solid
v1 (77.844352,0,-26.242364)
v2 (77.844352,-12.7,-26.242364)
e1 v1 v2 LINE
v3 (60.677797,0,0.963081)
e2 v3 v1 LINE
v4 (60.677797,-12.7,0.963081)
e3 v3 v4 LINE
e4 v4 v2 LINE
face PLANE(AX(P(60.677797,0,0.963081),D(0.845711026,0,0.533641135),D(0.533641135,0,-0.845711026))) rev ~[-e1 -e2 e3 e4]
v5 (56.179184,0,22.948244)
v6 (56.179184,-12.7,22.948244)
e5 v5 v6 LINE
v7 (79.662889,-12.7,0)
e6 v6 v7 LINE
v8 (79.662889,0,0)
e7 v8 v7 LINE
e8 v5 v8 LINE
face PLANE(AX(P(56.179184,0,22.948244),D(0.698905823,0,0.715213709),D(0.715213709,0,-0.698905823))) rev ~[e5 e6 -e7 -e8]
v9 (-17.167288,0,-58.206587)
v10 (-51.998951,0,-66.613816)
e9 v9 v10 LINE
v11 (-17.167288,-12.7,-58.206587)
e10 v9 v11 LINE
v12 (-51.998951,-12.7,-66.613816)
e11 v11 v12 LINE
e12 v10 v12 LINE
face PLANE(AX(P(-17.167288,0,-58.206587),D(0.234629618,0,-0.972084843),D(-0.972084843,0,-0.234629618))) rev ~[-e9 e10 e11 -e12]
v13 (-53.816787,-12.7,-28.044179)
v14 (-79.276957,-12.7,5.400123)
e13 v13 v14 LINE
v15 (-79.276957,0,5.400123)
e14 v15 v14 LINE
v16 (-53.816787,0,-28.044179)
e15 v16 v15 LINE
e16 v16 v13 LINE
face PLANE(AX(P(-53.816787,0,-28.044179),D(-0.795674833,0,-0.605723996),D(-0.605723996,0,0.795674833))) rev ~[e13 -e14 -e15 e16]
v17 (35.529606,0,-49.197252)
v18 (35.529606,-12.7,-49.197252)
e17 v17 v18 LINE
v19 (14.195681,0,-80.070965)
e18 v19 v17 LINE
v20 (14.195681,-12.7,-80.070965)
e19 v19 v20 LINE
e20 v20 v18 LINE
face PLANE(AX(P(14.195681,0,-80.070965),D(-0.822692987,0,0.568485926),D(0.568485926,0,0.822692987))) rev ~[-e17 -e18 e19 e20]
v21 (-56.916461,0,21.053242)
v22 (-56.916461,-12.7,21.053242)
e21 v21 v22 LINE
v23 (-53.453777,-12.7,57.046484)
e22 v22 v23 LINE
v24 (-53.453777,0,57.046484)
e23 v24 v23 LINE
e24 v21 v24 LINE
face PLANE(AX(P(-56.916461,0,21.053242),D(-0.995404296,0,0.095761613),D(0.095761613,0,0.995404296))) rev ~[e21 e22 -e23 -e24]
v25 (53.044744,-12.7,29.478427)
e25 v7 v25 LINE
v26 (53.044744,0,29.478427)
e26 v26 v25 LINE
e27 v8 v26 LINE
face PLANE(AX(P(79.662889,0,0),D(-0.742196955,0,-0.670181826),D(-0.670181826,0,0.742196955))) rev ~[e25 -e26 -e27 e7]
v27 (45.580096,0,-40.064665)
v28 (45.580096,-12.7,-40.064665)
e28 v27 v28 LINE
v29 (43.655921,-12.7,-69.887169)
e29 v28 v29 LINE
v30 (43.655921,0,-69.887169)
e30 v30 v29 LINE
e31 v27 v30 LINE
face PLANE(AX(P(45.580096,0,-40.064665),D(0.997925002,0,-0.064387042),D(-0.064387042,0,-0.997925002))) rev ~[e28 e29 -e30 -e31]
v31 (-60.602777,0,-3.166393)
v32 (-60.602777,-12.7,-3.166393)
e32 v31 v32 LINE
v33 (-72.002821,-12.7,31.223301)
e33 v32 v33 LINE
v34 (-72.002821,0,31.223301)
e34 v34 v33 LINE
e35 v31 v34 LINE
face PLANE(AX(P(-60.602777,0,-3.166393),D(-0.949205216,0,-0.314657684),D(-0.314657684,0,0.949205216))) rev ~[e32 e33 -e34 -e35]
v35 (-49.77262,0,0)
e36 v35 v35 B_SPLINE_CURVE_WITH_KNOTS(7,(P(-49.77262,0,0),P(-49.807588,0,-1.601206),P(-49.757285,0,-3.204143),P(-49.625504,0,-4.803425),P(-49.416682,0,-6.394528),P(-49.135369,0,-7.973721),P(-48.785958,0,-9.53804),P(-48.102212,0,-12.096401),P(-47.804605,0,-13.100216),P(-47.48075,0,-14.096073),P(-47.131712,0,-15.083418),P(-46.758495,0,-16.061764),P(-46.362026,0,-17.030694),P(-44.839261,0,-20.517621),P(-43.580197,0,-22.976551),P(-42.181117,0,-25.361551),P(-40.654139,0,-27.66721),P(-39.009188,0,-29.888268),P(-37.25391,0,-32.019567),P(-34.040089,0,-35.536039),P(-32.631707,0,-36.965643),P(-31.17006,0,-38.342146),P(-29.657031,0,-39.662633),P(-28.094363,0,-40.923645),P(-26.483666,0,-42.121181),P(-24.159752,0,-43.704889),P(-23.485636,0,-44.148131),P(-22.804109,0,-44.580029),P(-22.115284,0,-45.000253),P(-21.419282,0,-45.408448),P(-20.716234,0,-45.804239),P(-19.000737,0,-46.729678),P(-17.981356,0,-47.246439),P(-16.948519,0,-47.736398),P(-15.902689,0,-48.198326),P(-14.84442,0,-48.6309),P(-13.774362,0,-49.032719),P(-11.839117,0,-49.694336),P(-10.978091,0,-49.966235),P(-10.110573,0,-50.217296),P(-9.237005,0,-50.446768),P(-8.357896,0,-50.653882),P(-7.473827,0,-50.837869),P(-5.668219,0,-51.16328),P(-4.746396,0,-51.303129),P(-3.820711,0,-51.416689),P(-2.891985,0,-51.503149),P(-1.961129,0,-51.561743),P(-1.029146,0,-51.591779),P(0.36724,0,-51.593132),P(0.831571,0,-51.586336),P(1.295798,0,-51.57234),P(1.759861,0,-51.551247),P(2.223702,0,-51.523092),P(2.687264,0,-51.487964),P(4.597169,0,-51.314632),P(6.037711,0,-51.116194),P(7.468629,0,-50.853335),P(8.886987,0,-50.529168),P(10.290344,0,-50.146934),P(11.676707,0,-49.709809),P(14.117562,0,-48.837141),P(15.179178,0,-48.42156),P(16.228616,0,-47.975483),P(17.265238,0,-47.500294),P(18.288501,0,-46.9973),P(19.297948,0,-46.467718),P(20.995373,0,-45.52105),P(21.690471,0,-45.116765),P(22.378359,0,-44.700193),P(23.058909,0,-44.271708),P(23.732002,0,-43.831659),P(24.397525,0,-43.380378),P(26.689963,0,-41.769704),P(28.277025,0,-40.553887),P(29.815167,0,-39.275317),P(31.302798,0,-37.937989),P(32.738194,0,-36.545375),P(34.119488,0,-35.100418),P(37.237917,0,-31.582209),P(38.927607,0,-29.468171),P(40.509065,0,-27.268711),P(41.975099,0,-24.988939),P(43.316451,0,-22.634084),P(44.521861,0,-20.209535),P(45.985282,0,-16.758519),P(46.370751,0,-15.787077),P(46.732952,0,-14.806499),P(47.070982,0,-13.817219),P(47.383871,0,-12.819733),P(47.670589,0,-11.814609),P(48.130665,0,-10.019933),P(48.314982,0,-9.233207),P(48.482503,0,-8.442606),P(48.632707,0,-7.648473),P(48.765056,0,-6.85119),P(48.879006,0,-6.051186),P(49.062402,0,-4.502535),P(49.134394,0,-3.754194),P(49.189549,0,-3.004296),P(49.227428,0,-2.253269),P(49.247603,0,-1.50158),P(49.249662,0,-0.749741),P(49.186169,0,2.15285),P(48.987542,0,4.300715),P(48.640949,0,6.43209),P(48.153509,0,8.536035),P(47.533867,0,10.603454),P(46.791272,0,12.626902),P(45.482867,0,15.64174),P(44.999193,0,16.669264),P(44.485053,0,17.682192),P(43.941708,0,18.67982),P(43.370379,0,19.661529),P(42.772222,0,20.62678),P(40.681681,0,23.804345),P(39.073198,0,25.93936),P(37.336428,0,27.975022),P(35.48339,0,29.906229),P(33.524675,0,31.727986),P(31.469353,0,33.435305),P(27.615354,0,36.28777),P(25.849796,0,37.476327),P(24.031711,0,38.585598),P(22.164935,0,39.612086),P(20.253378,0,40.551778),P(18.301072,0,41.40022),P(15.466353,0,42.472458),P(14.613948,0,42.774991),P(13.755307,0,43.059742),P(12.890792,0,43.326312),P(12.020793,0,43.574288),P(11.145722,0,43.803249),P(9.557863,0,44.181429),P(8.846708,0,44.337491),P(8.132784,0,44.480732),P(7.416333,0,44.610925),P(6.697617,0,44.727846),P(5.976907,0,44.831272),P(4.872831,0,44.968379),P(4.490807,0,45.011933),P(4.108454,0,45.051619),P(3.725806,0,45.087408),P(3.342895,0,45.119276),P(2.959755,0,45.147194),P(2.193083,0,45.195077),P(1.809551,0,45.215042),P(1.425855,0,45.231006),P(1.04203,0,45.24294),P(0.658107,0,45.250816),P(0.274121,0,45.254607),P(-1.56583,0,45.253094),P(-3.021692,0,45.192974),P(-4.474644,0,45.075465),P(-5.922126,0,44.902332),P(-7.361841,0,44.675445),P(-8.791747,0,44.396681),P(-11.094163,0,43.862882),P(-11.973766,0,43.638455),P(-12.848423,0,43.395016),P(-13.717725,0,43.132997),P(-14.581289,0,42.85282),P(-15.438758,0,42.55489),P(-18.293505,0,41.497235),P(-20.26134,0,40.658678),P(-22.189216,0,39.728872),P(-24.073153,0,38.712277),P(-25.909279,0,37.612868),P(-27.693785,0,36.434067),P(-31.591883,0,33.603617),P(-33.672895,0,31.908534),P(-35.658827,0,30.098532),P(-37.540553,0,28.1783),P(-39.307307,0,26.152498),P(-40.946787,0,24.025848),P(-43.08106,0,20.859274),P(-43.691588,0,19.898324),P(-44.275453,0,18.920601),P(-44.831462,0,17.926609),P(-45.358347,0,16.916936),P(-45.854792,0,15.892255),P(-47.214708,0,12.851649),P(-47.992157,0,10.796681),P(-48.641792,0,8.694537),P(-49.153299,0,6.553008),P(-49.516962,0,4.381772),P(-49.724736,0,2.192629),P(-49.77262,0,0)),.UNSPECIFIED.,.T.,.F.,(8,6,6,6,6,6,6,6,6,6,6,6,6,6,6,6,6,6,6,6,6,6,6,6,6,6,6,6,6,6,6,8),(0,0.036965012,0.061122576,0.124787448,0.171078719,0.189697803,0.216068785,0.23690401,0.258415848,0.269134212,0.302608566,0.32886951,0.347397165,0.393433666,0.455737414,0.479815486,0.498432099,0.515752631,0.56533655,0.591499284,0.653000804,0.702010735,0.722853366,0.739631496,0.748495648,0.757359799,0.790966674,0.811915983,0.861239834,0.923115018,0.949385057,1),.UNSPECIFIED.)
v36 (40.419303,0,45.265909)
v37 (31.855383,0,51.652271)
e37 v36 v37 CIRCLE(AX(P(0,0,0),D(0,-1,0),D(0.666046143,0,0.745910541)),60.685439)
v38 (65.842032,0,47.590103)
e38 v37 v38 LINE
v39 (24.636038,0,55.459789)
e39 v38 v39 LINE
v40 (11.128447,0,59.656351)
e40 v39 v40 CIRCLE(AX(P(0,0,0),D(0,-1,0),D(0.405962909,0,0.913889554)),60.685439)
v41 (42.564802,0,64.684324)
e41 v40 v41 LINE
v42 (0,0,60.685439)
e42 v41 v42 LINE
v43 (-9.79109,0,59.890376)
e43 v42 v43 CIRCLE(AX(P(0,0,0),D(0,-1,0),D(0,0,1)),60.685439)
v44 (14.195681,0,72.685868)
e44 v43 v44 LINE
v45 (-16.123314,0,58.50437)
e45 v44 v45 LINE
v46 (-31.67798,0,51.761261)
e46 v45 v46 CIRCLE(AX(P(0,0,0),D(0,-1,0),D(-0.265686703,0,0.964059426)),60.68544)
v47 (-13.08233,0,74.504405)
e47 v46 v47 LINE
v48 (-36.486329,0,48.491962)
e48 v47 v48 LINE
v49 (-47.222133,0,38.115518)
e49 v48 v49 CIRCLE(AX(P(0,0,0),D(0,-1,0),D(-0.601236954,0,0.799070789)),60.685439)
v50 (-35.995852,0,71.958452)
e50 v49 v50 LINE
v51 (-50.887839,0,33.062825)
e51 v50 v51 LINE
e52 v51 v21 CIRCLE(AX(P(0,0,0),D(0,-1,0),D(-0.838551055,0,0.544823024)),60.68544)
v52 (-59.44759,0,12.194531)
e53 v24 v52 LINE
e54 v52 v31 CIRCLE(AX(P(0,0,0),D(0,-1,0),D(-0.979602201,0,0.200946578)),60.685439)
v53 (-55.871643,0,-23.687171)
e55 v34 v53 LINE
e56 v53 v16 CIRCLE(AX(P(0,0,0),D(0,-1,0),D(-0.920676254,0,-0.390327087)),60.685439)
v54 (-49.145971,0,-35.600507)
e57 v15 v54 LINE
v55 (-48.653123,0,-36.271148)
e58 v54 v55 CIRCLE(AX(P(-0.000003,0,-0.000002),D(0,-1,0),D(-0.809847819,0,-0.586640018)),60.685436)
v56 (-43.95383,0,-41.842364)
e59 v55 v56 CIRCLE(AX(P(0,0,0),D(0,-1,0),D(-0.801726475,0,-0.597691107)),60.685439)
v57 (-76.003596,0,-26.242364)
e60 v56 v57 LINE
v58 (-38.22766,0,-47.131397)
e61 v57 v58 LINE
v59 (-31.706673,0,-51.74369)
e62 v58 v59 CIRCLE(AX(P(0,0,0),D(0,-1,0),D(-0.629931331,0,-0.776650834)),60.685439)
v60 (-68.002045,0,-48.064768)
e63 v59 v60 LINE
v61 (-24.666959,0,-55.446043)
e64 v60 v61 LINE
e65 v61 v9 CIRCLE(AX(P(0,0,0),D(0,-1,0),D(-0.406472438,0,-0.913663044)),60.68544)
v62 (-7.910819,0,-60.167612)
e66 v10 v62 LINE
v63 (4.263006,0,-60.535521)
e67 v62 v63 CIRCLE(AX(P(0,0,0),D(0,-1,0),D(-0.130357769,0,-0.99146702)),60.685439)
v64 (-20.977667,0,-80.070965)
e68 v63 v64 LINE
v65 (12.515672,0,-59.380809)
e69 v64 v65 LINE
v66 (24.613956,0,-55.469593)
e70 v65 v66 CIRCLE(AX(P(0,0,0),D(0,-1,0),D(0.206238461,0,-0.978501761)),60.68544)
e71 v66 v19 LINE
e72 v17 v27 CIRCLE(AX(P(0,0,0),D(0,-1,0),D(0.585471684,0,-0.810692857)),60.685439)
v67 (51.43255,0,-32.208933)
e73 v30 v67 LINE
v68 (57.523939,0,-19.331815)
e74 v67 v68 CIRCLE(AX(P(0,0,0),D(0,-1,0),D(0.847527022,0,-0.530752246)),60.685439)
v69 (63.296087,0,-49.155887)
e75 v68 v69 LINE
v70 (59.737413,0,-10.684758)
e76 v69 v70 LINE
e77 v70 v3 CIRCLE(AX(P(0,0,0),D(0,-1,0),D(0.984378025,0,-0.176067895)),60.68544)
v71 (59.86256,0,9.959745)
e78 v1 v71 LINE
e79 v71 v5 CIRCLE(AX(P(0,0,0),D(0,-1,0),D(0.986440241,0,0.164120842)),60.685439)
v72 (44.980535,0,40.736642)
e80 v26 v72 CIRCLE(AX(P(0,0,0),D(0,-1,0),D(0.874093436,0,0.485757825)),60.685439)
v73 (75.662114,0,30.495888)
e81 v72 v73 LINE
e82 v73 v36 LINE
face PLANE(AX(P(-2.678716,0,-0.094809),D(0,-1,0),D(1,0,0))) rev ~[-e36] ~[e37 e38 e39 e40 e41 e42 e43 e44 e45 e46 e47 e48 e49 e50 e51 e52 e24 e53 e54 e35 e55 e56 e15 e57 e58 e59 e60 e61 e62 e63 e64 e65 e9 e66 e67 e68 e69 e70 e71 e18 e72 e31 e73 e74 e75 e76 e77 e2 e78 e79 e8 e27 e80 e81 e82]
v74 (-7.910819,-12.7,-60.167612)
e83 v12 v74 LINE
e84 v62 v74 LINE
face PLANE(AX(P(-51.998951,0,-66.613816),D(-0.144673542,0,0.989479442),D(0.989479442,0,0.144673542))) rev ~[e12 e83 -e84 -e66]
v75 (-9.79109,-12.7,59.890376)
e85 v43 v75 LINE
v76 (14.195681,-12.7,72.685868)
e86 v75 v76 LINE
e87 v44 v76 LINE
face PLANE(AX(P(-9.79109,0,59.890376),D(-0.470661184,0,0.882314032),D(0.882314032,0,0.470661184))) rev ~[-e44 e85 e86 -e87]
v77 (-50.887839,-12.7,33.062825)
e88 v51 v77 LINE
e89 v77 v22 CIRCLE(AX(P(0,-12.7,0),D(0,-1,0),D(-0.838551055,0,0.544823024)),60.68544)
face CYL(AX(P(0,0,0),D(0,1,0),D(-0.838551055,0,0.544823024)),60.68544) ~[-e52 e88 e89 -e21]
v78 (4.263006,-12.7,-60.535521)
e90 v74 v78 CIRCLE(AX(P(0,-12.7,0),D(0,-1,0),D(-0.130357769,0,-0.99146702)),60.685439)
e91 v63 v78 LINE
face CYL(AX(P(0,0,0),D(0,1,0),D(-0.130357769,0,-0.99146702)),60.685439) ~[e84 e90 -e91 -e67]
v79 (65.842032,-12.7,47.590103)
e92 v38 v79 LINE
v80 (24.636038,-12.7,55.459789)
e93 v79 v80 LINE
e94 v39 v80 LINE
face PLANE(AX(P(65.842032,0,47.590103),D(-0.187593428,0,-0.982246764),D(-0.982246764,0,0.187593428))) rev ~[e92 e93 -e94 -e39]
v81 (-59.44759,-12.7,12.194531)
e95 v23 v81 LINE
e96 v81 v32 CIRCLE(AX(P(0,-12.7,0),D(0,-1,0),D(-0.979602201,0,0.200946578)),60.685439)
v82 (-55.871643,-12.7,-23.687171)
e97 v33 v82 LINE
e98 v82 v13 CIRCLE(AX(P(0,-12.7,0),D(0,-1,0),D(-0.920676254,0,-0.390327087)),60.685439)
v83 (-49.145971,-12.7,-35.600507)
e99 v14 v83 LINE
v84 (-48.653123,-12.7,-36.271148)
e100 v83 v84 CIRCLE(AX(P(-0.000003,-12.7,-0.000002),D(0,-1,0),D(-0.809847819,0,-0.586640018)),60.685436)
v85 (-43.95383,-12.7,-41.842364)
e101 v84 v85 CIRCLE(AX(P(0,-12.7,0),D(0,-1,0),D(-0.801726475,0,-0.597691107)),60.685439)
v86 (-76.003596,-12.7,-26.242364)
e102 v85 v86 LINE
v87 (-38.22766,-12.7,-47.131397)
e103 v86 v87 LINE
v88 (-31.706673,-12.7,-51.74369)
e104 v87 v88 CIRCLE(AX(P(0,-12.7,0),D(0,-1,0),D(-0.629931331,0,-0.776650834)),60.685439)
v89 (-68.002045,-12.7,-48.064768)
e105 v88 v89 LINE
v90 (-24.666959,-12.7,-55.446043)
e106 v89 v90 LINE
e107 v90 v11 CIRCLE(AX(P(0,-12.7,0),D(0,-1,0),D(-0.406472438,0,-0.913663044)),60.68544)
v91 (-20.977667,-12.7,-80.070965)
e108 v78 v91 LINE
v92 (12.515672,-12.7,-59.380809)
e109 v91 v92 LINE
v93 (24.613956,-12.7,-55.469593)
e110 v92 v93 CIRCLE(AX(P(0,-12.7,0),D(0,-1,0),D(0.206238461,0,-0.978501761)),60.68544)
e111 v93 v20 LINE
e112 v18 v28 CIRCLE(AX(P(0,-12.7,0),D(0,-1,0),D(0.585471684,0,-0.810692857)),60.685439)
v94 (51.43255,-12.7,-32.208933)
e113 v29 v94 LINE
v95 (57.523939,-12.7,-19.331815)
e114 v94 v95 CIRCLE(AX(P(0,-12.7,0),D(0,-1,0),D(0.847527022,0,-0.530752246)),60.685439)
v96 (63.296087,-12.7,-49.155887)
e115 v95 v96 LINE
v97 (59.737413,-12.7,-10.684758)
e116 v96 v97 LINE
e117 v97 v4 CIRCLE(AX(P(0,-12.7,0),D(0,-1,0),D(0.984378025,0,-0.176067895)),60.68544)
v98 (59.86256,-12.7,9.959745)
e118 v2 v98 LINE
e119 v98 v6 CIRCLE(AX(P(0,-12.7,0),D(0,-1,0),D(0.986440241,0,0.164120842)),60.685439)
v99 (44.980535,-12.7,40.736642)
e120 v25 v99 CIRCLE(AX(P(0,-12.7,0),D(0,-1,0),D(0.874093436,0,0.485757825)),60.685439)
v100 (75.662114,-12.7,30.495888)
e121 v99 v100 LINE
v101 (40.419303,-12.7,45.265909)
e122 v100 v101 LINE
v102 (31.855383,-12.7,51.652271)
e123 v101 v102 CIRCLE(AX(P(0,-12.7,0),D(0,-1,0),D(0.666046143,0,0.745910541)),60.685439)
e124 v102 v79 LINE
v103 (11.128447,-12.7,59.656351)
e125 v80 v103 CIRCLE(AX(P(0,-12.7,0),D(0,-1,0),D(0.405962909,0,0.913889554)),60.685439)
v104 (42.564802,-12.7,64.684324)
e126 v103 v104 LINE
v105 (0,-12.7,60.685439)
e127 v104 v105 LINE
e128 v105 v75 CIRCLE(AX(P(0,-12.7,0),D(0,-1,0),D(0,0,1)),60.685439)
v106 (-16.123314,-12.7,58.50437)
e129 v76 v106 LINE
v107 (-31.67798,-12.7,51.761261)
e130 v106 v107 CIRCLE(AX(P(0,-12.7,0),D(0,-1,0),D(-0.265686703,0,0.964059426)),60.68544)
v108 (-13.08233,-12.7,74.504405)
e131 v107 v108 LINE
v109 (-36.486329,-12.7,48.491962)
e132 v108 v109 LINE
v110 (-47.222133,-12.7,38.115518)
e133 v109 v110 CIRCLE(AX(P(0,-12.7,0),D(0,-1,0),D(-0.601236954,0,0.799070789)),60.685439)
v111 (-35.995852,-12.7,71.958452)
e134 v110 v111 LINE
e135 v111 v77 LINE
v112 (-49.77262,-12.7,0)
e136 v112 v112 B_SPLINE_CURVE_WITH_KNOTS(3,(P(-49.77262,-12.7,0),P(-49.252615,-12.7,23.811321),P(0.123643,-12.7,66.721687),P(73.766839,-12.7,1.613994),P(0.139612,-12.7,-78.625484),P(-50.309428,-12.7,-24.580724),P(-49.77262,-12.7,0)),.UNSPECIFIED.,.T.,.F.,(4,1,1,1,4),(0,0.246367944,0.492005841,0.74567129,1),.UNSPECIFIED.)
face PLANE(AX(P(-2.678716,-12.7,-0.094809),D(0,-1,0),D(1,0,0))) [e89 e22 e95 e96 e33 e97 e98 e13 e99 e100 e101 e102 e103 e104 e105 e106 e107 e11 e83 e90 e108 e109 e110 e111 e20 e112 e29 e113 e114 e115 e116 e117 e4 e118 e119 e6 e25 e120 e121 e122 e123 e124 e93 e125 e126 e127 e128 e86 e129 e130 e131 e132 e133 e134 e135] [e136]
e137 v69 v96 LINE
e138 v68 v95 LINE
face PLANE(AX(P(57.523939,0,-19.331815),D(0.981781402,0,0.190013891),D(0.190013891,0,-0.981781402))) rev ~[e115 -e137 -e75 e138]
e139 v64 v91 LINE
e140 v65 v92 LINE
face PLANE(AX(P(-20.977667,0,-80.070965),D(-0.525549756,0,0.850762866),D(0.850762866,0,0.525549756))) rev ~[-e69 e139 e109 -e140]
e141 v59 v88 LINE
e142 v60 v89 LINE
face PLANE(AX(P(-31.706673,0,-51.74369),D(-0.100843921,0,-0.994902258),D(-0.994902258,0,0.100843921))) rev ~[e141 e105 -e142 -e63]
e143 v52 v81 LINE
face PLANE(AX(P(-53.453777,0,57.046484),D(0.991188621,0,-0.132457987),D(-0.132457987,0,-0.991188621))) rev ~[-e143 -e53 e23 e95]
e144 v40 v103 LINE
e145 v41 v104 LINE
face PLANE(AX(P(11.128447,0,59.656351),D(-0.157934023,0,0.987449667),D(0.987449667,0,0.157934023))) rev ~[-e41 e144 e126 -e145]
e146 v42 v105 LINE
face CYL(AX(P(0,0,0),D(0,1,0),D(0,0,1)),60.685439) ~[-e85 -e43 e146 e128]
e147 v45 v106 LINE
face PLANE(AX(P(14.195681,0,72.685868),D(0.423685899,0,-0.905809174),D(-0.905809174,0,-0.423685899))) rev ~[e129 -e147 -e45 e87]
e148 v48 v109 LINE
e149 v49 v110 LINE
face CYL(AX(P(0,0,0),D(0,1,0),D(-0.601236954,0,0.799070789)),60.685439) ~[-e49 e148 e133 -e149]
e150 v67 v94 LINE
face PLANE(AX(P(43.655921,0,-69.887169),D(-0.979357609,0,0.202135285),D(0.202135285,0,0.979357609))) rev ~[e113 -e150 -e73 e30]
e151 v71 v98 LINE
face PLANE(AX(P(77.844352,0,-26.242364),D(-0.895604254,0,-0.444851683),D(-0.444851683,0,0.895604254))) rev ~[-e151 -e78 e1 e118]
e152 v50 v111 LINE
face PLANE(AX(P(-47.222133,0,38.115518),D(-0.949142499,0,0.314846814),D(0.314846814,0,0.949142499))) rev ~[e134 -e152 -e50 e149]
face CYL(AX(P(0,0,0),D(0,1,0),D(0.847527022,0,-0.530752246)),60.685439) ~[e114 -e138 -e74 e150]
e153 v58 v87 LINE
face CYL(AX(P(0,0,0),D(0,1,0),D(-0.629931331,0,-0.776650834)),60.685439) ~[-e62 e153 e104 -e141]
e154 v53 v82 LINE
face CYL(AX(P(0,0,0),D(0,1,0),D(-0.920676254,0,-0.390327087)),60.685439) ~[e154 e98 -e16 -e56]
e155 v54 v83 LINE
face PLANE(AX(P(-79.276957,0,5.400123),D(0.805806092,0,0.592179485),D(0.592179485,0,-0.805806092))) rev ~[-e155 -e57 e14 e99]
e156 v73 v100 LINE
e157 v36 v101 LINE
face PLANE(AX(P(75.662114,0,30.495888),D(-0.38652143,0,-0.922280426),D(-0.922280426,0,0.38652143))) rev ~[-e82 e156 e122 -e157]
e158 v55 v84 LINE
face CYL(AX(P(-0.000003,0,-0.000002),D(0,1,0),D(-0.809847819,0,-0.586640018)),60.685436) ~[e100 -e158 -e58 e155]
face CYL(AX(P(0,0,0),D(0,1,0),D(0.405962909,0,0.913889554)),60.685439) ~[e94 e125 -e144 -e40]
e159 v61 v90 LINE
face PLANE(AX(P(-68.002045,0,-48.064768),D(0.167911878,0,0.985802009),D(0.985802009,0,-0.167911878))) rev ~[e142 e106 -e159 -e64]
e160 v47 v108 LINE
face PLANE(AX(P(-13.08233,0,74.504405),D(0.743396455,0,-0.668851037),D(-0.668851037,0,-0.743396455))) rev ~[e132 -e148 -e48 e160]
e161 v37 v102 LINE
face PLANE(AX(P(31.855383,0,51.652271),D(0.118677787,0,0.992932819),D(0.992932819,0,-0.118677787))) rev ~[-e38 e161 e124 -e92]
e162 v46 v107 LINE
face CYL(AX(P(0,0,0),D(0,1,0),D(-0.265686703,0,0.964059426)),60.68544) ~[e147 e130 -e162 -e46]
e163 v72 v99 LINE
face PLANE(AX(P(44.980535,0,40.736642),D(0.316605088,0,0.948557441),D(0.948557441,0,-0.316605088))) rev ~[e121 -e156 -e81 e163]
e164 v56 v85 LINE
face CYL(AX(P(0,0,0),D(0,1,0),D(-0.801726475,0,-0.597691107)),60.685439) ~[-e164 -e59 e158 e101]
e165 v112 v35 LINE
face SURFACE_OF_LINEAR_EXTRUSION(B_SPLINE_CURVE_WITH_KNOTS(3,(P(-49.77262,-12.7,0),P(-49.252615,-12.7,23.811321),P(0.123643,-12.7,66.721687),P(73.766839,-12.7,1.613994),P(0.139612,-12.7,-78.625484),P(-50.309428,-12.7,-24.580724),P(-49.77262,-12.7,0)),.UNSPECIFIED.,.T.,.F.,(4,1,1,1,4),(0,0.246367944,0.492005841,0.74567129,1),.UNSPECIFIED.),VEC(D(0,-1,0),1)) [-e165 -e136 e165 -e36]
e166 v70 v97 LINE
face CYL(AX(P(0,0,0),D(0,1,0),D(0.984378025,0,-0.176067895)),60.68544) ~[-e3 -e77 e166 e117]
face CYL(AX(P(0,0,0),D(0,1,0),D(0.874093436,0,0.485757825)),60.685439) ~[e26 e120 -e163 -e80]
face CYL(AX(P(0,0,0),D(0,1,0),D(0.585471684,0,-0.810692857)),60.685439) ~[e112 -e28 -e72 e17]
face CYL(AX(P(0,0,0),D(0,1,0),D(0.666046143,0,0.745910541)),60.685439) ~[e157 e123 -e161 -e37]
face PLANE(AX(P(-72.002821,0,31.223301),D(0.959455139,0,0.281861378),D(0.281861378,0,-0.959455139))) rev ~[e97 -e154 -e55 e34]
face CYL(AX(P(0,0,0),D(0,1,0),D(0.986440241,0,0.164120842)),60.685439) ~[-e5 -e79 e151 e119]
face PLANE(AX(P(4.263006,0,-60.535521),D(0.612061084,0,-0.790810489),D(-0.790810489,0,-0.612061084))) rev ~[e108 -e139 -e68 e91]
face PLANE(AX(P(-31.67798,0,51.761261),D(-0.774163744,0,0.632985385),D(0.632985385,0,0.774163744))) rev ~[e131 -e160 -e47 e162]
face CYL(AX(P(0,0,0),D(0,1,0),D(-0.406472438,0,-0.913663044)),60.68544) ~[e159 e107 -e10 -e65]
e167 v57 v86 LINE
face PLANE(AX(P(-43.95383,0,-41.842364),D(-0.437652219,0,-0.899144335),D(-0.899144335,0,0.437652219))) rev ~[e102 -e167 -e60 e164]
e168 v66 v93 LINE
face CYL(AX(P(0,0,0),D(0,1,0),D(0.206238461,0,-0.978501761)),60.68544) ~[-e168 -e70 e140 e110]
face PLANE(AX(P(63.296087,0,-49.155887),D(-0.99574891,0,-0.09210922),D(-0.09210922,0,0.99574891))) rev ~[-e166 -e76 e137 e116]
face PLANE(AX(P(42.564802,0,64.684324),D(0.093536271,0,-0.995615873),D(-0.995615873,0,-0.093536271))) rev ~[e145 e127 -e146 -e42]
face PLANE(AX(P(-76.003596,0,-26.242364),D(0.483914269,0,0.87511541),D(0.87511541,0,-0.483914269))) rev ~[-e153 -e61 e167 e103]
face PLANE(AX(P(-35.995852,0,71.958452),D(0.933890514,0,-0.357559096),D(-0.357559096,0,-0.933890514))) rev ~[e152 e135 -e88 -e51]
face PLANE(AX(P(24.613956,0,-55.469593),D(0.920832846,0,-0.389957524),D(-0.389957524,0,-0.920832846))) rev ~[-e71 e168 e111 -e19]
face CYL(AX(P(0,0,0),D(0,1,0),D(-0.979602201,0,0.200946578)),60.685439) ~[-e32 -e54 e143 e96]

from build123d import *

# Parameters (mm, degrees)
F1_DEPTH = 12.7
F3_DEPTH = 25.4


with BuildPart() as f1:
    # F0 (on Front) → F1 (new body)
    with BuildSketch(Plane.XZ):
        with BuildLine():
            Line((14.1956806183, 72.685867548), (-16.1233143312, 58.504369939))
            ThreePointArc((-16.1233143312, 58.504369939), (-24.1372805025, 55.6786696763), (-31.677979842, 51.7612611913))
            Line((-31.677979842, 51.7612611913), (-13.0823301151, 74.5044052601))
            Line((-13.0823301151, 74.5044052601), (-36.4863287749, 48.4919620093))
            ThreePointArc((-36.4863287749, 48.4919620093), (-42.174569089, 43.635172615), (-47.2221327461, 38.1155184392))
            Line((-47.2221327461, 38.1155184392), (-35.9958522022, 71.9584524632))
            Line((-35.9958522022, 71.9584524632), (-50.8878393335, 33.0628246669))
            ThreePointArc((-50.8878393335, 33.0628246669), (-54.2355910398, 27.2254151767), (-56.9164614127, 21.0532417275))
            Line((-56.9164614127, 21.0532417275), (-53.4537769854, 57.0464842021))
            Line((-53.4537769854, 57.0464842021), (-59.4475901172, 12.1945314072))
            ThreePointArc((-59.4475901172, 12.1945314072), (-60.5145613182, 4.5508719434), (-60.6027765322, -3.1663928323))
            Line((-60.6027765322, -3.1663928323), (-72.0028206706, 31.2233008444))
            Line((-72.0028206706, 31.2233008444), (-55.871643126, -23.6871708184))
            ThreePointArc((-55.871643126, -23.6871708184), (-54.8874650861, -25.8860723827), (-53.8167873263, -28.0441788764))
            Line((-53.8167873263, -28.0441788764), (-79.2769566178, 5.400122609))
            Line((-79.2769566178, 5.400122609), (-49.1459707846, -35.6005073365))
            Line((-49.1459707846, -35.6005073365), (-48.6531234879, -36.2711475122))
            ThreePointArc((-48.6531234879, -36.2711475122), (-46.3871917294, -39.1273690714), (-43.9538296695, -41.8423639912))
            Line((-43.9538296695, -41.8423639912), (-76.0035961866, -26.242364198))
            Line((-76.0035961866, -26.242364198), (-38.2276596565, -47.1313972227))
            ThreePointArc((-38.2276596565, -47.1313972227), (-35.04313087, -49.5449447049), (-31.7066726719, -51.7436901956))
            Line((-31.7066726719, -51.7436901956), (-68.0020451546, -48.0647683144))
            Line((-68.0020451546, -48.0647683144), (-24.6669585423, -55.4460433508))
            ThreePointArc((-24.6669585423, -55.4460433508), (-20.9626144697, -56.9499022087), (-17.1672884351, -58.2065870394))
            Line((-17.1672884351, -58.2065870394), (-51.998950541, -66.6138157248))
            Line((-51.998950541, -66.6138157248), (-7.91081853, -60.1676118619))
            ThreePointArc((-7.91081853, -60.1676118619), (-1.8331594251, -60.657745536), (4.2630059653, -60.5355213666))
            Line((4.2630059653, -60.5355213666), (-20.9776671322, -80.070964992))
            Line((-20.9776671322, -80.070964992), (12.5156716461, -59.380809444))
            ThreePointArc((12.5156716461, -59.380809444), (18.6675310426, -57.7429290195), (24.6139559608, -55.4695929221))
            Line((24.6139559608, -55.4695929221), (14.1956806183, -80.070964992))
            Line((14.1956806183, -80.070964992), (35.5296064347, -49.197252297))
            ThreePointArc((35.5296064347, -49.197252297), (40.8111137132, -44.9129776843), (45.5800962078, -40.0646651885))
            Line((45.5800962078, -40.0646651885), (43.6559207737, -69.8871687055))
            Line((43.6559207737, -69.8871687055), (51.4325498421, -32.2089332907))
            ThreePointArc((51.4325498421, -32.2089332907), (54.8573982061, -25.9497288819), (57.5239385722, -19.3318146619))
            Line((57.5239385722, -19.3318146619), (63.2960870862, -49.1558872163))
            Line((63.2960870862, -49.1558872163), (59.737413085, -10.6847575962))
            ThreePointArc((59.737413085, -10.6847575962), (60.4886248495, -4.8835264714), (60.6777969485, 0.9630807153))
            Line((60.6777969485, 0.9630807153), (77.8443515301, -26.242364198))
            Line((77.8443515301, -26.242364198), (59.8625595644, 9.9597454474))
            ThreePointArc((59.8625595644, 9.9597454474), (58.3831894637, 16.5567434911), (56.1791835984, 22.9482438805))
            Line((56.1791835984, 22.9482438805), (79.6628892422, 0))
            Line((79.6628892422, 0), (53.0447443432, 29.4784271043))
            ThreePointArc((53.0447443432, 29.4784271043), (49.3348326812, 35.338319871), (44.9805353483, 40.7366420653))
            Line((44.9805353483, 40.7366420653), (75.6621137261, 30.4958876222))
            Line((75.6621137261, 30.4958876222), (40.4193028999, 45.2659090273))
            ThreePointArc((40.4193028999, 45.2659090273), (36.2781471273, 48.6479044563), (31.8553829244, 51.6522714478))
            Line((31.8553829244, 51.6522714478), (65.8420324326, 47.5901030004))
            Line((65.8420324326, 47.5901030004), (24.6360375773, 55.4597892123))
            ThreePointArc((24.6360375773, 55.4597892123), (18.0049262379, 57.952956768), (11.1284468002, 59.6563512025))
            Line((11.1284468002, 59.6563512025), (42.5648018718, 64.6843239665))
            Line((42.5648018718, 64.6843239665), (0, 60.6854394973))
            ThreePointArc((0, 60.6854394973), (-4.9116588, 60.4863470117), (-9.7910899563, 59.8903758917))
            Line((-9.7910899563, 59.8903758917), (14.1956806183, 72.685867548))
        make_face()
        with BuildLine():
            Line((-48.6531234879, -36.2711475122), (-49.1459707846, -35.6005073365))
            ThreePointArc((-49.1459707846, -35.6005073365), (-48.9006968222, -35.936672318), (-48.6531234879, -36.2711475122))
        make_face()
    extrude(amount=F1_DEPTH)

    # F2 (on face) → F3 (cut)
    with BuildSketch(Plane.XZ.offset(12.7)):
        with BuildLine():
            add(Edge.make_bspline(
                [(-49.7726202011, 0), (-49.2526152751, 23.8113209552), (0.1236425889, 66.7216871145), (73.7668389709, 1.6139944031), (0.1396115913, -78.6254844393), (-50.3094277913, -24.5807244903), (-49.7726202011, 0)],
                knots=[0, 0, 0, 0, 0.2463679437, 0.4920058414, 0.7456712898, 1, 1, 1, 1], degree=3))
        make_face()
    extrude(amount=-F3_DEPTH, mode=Mode.SUBTRACT)


solid = f1.part
